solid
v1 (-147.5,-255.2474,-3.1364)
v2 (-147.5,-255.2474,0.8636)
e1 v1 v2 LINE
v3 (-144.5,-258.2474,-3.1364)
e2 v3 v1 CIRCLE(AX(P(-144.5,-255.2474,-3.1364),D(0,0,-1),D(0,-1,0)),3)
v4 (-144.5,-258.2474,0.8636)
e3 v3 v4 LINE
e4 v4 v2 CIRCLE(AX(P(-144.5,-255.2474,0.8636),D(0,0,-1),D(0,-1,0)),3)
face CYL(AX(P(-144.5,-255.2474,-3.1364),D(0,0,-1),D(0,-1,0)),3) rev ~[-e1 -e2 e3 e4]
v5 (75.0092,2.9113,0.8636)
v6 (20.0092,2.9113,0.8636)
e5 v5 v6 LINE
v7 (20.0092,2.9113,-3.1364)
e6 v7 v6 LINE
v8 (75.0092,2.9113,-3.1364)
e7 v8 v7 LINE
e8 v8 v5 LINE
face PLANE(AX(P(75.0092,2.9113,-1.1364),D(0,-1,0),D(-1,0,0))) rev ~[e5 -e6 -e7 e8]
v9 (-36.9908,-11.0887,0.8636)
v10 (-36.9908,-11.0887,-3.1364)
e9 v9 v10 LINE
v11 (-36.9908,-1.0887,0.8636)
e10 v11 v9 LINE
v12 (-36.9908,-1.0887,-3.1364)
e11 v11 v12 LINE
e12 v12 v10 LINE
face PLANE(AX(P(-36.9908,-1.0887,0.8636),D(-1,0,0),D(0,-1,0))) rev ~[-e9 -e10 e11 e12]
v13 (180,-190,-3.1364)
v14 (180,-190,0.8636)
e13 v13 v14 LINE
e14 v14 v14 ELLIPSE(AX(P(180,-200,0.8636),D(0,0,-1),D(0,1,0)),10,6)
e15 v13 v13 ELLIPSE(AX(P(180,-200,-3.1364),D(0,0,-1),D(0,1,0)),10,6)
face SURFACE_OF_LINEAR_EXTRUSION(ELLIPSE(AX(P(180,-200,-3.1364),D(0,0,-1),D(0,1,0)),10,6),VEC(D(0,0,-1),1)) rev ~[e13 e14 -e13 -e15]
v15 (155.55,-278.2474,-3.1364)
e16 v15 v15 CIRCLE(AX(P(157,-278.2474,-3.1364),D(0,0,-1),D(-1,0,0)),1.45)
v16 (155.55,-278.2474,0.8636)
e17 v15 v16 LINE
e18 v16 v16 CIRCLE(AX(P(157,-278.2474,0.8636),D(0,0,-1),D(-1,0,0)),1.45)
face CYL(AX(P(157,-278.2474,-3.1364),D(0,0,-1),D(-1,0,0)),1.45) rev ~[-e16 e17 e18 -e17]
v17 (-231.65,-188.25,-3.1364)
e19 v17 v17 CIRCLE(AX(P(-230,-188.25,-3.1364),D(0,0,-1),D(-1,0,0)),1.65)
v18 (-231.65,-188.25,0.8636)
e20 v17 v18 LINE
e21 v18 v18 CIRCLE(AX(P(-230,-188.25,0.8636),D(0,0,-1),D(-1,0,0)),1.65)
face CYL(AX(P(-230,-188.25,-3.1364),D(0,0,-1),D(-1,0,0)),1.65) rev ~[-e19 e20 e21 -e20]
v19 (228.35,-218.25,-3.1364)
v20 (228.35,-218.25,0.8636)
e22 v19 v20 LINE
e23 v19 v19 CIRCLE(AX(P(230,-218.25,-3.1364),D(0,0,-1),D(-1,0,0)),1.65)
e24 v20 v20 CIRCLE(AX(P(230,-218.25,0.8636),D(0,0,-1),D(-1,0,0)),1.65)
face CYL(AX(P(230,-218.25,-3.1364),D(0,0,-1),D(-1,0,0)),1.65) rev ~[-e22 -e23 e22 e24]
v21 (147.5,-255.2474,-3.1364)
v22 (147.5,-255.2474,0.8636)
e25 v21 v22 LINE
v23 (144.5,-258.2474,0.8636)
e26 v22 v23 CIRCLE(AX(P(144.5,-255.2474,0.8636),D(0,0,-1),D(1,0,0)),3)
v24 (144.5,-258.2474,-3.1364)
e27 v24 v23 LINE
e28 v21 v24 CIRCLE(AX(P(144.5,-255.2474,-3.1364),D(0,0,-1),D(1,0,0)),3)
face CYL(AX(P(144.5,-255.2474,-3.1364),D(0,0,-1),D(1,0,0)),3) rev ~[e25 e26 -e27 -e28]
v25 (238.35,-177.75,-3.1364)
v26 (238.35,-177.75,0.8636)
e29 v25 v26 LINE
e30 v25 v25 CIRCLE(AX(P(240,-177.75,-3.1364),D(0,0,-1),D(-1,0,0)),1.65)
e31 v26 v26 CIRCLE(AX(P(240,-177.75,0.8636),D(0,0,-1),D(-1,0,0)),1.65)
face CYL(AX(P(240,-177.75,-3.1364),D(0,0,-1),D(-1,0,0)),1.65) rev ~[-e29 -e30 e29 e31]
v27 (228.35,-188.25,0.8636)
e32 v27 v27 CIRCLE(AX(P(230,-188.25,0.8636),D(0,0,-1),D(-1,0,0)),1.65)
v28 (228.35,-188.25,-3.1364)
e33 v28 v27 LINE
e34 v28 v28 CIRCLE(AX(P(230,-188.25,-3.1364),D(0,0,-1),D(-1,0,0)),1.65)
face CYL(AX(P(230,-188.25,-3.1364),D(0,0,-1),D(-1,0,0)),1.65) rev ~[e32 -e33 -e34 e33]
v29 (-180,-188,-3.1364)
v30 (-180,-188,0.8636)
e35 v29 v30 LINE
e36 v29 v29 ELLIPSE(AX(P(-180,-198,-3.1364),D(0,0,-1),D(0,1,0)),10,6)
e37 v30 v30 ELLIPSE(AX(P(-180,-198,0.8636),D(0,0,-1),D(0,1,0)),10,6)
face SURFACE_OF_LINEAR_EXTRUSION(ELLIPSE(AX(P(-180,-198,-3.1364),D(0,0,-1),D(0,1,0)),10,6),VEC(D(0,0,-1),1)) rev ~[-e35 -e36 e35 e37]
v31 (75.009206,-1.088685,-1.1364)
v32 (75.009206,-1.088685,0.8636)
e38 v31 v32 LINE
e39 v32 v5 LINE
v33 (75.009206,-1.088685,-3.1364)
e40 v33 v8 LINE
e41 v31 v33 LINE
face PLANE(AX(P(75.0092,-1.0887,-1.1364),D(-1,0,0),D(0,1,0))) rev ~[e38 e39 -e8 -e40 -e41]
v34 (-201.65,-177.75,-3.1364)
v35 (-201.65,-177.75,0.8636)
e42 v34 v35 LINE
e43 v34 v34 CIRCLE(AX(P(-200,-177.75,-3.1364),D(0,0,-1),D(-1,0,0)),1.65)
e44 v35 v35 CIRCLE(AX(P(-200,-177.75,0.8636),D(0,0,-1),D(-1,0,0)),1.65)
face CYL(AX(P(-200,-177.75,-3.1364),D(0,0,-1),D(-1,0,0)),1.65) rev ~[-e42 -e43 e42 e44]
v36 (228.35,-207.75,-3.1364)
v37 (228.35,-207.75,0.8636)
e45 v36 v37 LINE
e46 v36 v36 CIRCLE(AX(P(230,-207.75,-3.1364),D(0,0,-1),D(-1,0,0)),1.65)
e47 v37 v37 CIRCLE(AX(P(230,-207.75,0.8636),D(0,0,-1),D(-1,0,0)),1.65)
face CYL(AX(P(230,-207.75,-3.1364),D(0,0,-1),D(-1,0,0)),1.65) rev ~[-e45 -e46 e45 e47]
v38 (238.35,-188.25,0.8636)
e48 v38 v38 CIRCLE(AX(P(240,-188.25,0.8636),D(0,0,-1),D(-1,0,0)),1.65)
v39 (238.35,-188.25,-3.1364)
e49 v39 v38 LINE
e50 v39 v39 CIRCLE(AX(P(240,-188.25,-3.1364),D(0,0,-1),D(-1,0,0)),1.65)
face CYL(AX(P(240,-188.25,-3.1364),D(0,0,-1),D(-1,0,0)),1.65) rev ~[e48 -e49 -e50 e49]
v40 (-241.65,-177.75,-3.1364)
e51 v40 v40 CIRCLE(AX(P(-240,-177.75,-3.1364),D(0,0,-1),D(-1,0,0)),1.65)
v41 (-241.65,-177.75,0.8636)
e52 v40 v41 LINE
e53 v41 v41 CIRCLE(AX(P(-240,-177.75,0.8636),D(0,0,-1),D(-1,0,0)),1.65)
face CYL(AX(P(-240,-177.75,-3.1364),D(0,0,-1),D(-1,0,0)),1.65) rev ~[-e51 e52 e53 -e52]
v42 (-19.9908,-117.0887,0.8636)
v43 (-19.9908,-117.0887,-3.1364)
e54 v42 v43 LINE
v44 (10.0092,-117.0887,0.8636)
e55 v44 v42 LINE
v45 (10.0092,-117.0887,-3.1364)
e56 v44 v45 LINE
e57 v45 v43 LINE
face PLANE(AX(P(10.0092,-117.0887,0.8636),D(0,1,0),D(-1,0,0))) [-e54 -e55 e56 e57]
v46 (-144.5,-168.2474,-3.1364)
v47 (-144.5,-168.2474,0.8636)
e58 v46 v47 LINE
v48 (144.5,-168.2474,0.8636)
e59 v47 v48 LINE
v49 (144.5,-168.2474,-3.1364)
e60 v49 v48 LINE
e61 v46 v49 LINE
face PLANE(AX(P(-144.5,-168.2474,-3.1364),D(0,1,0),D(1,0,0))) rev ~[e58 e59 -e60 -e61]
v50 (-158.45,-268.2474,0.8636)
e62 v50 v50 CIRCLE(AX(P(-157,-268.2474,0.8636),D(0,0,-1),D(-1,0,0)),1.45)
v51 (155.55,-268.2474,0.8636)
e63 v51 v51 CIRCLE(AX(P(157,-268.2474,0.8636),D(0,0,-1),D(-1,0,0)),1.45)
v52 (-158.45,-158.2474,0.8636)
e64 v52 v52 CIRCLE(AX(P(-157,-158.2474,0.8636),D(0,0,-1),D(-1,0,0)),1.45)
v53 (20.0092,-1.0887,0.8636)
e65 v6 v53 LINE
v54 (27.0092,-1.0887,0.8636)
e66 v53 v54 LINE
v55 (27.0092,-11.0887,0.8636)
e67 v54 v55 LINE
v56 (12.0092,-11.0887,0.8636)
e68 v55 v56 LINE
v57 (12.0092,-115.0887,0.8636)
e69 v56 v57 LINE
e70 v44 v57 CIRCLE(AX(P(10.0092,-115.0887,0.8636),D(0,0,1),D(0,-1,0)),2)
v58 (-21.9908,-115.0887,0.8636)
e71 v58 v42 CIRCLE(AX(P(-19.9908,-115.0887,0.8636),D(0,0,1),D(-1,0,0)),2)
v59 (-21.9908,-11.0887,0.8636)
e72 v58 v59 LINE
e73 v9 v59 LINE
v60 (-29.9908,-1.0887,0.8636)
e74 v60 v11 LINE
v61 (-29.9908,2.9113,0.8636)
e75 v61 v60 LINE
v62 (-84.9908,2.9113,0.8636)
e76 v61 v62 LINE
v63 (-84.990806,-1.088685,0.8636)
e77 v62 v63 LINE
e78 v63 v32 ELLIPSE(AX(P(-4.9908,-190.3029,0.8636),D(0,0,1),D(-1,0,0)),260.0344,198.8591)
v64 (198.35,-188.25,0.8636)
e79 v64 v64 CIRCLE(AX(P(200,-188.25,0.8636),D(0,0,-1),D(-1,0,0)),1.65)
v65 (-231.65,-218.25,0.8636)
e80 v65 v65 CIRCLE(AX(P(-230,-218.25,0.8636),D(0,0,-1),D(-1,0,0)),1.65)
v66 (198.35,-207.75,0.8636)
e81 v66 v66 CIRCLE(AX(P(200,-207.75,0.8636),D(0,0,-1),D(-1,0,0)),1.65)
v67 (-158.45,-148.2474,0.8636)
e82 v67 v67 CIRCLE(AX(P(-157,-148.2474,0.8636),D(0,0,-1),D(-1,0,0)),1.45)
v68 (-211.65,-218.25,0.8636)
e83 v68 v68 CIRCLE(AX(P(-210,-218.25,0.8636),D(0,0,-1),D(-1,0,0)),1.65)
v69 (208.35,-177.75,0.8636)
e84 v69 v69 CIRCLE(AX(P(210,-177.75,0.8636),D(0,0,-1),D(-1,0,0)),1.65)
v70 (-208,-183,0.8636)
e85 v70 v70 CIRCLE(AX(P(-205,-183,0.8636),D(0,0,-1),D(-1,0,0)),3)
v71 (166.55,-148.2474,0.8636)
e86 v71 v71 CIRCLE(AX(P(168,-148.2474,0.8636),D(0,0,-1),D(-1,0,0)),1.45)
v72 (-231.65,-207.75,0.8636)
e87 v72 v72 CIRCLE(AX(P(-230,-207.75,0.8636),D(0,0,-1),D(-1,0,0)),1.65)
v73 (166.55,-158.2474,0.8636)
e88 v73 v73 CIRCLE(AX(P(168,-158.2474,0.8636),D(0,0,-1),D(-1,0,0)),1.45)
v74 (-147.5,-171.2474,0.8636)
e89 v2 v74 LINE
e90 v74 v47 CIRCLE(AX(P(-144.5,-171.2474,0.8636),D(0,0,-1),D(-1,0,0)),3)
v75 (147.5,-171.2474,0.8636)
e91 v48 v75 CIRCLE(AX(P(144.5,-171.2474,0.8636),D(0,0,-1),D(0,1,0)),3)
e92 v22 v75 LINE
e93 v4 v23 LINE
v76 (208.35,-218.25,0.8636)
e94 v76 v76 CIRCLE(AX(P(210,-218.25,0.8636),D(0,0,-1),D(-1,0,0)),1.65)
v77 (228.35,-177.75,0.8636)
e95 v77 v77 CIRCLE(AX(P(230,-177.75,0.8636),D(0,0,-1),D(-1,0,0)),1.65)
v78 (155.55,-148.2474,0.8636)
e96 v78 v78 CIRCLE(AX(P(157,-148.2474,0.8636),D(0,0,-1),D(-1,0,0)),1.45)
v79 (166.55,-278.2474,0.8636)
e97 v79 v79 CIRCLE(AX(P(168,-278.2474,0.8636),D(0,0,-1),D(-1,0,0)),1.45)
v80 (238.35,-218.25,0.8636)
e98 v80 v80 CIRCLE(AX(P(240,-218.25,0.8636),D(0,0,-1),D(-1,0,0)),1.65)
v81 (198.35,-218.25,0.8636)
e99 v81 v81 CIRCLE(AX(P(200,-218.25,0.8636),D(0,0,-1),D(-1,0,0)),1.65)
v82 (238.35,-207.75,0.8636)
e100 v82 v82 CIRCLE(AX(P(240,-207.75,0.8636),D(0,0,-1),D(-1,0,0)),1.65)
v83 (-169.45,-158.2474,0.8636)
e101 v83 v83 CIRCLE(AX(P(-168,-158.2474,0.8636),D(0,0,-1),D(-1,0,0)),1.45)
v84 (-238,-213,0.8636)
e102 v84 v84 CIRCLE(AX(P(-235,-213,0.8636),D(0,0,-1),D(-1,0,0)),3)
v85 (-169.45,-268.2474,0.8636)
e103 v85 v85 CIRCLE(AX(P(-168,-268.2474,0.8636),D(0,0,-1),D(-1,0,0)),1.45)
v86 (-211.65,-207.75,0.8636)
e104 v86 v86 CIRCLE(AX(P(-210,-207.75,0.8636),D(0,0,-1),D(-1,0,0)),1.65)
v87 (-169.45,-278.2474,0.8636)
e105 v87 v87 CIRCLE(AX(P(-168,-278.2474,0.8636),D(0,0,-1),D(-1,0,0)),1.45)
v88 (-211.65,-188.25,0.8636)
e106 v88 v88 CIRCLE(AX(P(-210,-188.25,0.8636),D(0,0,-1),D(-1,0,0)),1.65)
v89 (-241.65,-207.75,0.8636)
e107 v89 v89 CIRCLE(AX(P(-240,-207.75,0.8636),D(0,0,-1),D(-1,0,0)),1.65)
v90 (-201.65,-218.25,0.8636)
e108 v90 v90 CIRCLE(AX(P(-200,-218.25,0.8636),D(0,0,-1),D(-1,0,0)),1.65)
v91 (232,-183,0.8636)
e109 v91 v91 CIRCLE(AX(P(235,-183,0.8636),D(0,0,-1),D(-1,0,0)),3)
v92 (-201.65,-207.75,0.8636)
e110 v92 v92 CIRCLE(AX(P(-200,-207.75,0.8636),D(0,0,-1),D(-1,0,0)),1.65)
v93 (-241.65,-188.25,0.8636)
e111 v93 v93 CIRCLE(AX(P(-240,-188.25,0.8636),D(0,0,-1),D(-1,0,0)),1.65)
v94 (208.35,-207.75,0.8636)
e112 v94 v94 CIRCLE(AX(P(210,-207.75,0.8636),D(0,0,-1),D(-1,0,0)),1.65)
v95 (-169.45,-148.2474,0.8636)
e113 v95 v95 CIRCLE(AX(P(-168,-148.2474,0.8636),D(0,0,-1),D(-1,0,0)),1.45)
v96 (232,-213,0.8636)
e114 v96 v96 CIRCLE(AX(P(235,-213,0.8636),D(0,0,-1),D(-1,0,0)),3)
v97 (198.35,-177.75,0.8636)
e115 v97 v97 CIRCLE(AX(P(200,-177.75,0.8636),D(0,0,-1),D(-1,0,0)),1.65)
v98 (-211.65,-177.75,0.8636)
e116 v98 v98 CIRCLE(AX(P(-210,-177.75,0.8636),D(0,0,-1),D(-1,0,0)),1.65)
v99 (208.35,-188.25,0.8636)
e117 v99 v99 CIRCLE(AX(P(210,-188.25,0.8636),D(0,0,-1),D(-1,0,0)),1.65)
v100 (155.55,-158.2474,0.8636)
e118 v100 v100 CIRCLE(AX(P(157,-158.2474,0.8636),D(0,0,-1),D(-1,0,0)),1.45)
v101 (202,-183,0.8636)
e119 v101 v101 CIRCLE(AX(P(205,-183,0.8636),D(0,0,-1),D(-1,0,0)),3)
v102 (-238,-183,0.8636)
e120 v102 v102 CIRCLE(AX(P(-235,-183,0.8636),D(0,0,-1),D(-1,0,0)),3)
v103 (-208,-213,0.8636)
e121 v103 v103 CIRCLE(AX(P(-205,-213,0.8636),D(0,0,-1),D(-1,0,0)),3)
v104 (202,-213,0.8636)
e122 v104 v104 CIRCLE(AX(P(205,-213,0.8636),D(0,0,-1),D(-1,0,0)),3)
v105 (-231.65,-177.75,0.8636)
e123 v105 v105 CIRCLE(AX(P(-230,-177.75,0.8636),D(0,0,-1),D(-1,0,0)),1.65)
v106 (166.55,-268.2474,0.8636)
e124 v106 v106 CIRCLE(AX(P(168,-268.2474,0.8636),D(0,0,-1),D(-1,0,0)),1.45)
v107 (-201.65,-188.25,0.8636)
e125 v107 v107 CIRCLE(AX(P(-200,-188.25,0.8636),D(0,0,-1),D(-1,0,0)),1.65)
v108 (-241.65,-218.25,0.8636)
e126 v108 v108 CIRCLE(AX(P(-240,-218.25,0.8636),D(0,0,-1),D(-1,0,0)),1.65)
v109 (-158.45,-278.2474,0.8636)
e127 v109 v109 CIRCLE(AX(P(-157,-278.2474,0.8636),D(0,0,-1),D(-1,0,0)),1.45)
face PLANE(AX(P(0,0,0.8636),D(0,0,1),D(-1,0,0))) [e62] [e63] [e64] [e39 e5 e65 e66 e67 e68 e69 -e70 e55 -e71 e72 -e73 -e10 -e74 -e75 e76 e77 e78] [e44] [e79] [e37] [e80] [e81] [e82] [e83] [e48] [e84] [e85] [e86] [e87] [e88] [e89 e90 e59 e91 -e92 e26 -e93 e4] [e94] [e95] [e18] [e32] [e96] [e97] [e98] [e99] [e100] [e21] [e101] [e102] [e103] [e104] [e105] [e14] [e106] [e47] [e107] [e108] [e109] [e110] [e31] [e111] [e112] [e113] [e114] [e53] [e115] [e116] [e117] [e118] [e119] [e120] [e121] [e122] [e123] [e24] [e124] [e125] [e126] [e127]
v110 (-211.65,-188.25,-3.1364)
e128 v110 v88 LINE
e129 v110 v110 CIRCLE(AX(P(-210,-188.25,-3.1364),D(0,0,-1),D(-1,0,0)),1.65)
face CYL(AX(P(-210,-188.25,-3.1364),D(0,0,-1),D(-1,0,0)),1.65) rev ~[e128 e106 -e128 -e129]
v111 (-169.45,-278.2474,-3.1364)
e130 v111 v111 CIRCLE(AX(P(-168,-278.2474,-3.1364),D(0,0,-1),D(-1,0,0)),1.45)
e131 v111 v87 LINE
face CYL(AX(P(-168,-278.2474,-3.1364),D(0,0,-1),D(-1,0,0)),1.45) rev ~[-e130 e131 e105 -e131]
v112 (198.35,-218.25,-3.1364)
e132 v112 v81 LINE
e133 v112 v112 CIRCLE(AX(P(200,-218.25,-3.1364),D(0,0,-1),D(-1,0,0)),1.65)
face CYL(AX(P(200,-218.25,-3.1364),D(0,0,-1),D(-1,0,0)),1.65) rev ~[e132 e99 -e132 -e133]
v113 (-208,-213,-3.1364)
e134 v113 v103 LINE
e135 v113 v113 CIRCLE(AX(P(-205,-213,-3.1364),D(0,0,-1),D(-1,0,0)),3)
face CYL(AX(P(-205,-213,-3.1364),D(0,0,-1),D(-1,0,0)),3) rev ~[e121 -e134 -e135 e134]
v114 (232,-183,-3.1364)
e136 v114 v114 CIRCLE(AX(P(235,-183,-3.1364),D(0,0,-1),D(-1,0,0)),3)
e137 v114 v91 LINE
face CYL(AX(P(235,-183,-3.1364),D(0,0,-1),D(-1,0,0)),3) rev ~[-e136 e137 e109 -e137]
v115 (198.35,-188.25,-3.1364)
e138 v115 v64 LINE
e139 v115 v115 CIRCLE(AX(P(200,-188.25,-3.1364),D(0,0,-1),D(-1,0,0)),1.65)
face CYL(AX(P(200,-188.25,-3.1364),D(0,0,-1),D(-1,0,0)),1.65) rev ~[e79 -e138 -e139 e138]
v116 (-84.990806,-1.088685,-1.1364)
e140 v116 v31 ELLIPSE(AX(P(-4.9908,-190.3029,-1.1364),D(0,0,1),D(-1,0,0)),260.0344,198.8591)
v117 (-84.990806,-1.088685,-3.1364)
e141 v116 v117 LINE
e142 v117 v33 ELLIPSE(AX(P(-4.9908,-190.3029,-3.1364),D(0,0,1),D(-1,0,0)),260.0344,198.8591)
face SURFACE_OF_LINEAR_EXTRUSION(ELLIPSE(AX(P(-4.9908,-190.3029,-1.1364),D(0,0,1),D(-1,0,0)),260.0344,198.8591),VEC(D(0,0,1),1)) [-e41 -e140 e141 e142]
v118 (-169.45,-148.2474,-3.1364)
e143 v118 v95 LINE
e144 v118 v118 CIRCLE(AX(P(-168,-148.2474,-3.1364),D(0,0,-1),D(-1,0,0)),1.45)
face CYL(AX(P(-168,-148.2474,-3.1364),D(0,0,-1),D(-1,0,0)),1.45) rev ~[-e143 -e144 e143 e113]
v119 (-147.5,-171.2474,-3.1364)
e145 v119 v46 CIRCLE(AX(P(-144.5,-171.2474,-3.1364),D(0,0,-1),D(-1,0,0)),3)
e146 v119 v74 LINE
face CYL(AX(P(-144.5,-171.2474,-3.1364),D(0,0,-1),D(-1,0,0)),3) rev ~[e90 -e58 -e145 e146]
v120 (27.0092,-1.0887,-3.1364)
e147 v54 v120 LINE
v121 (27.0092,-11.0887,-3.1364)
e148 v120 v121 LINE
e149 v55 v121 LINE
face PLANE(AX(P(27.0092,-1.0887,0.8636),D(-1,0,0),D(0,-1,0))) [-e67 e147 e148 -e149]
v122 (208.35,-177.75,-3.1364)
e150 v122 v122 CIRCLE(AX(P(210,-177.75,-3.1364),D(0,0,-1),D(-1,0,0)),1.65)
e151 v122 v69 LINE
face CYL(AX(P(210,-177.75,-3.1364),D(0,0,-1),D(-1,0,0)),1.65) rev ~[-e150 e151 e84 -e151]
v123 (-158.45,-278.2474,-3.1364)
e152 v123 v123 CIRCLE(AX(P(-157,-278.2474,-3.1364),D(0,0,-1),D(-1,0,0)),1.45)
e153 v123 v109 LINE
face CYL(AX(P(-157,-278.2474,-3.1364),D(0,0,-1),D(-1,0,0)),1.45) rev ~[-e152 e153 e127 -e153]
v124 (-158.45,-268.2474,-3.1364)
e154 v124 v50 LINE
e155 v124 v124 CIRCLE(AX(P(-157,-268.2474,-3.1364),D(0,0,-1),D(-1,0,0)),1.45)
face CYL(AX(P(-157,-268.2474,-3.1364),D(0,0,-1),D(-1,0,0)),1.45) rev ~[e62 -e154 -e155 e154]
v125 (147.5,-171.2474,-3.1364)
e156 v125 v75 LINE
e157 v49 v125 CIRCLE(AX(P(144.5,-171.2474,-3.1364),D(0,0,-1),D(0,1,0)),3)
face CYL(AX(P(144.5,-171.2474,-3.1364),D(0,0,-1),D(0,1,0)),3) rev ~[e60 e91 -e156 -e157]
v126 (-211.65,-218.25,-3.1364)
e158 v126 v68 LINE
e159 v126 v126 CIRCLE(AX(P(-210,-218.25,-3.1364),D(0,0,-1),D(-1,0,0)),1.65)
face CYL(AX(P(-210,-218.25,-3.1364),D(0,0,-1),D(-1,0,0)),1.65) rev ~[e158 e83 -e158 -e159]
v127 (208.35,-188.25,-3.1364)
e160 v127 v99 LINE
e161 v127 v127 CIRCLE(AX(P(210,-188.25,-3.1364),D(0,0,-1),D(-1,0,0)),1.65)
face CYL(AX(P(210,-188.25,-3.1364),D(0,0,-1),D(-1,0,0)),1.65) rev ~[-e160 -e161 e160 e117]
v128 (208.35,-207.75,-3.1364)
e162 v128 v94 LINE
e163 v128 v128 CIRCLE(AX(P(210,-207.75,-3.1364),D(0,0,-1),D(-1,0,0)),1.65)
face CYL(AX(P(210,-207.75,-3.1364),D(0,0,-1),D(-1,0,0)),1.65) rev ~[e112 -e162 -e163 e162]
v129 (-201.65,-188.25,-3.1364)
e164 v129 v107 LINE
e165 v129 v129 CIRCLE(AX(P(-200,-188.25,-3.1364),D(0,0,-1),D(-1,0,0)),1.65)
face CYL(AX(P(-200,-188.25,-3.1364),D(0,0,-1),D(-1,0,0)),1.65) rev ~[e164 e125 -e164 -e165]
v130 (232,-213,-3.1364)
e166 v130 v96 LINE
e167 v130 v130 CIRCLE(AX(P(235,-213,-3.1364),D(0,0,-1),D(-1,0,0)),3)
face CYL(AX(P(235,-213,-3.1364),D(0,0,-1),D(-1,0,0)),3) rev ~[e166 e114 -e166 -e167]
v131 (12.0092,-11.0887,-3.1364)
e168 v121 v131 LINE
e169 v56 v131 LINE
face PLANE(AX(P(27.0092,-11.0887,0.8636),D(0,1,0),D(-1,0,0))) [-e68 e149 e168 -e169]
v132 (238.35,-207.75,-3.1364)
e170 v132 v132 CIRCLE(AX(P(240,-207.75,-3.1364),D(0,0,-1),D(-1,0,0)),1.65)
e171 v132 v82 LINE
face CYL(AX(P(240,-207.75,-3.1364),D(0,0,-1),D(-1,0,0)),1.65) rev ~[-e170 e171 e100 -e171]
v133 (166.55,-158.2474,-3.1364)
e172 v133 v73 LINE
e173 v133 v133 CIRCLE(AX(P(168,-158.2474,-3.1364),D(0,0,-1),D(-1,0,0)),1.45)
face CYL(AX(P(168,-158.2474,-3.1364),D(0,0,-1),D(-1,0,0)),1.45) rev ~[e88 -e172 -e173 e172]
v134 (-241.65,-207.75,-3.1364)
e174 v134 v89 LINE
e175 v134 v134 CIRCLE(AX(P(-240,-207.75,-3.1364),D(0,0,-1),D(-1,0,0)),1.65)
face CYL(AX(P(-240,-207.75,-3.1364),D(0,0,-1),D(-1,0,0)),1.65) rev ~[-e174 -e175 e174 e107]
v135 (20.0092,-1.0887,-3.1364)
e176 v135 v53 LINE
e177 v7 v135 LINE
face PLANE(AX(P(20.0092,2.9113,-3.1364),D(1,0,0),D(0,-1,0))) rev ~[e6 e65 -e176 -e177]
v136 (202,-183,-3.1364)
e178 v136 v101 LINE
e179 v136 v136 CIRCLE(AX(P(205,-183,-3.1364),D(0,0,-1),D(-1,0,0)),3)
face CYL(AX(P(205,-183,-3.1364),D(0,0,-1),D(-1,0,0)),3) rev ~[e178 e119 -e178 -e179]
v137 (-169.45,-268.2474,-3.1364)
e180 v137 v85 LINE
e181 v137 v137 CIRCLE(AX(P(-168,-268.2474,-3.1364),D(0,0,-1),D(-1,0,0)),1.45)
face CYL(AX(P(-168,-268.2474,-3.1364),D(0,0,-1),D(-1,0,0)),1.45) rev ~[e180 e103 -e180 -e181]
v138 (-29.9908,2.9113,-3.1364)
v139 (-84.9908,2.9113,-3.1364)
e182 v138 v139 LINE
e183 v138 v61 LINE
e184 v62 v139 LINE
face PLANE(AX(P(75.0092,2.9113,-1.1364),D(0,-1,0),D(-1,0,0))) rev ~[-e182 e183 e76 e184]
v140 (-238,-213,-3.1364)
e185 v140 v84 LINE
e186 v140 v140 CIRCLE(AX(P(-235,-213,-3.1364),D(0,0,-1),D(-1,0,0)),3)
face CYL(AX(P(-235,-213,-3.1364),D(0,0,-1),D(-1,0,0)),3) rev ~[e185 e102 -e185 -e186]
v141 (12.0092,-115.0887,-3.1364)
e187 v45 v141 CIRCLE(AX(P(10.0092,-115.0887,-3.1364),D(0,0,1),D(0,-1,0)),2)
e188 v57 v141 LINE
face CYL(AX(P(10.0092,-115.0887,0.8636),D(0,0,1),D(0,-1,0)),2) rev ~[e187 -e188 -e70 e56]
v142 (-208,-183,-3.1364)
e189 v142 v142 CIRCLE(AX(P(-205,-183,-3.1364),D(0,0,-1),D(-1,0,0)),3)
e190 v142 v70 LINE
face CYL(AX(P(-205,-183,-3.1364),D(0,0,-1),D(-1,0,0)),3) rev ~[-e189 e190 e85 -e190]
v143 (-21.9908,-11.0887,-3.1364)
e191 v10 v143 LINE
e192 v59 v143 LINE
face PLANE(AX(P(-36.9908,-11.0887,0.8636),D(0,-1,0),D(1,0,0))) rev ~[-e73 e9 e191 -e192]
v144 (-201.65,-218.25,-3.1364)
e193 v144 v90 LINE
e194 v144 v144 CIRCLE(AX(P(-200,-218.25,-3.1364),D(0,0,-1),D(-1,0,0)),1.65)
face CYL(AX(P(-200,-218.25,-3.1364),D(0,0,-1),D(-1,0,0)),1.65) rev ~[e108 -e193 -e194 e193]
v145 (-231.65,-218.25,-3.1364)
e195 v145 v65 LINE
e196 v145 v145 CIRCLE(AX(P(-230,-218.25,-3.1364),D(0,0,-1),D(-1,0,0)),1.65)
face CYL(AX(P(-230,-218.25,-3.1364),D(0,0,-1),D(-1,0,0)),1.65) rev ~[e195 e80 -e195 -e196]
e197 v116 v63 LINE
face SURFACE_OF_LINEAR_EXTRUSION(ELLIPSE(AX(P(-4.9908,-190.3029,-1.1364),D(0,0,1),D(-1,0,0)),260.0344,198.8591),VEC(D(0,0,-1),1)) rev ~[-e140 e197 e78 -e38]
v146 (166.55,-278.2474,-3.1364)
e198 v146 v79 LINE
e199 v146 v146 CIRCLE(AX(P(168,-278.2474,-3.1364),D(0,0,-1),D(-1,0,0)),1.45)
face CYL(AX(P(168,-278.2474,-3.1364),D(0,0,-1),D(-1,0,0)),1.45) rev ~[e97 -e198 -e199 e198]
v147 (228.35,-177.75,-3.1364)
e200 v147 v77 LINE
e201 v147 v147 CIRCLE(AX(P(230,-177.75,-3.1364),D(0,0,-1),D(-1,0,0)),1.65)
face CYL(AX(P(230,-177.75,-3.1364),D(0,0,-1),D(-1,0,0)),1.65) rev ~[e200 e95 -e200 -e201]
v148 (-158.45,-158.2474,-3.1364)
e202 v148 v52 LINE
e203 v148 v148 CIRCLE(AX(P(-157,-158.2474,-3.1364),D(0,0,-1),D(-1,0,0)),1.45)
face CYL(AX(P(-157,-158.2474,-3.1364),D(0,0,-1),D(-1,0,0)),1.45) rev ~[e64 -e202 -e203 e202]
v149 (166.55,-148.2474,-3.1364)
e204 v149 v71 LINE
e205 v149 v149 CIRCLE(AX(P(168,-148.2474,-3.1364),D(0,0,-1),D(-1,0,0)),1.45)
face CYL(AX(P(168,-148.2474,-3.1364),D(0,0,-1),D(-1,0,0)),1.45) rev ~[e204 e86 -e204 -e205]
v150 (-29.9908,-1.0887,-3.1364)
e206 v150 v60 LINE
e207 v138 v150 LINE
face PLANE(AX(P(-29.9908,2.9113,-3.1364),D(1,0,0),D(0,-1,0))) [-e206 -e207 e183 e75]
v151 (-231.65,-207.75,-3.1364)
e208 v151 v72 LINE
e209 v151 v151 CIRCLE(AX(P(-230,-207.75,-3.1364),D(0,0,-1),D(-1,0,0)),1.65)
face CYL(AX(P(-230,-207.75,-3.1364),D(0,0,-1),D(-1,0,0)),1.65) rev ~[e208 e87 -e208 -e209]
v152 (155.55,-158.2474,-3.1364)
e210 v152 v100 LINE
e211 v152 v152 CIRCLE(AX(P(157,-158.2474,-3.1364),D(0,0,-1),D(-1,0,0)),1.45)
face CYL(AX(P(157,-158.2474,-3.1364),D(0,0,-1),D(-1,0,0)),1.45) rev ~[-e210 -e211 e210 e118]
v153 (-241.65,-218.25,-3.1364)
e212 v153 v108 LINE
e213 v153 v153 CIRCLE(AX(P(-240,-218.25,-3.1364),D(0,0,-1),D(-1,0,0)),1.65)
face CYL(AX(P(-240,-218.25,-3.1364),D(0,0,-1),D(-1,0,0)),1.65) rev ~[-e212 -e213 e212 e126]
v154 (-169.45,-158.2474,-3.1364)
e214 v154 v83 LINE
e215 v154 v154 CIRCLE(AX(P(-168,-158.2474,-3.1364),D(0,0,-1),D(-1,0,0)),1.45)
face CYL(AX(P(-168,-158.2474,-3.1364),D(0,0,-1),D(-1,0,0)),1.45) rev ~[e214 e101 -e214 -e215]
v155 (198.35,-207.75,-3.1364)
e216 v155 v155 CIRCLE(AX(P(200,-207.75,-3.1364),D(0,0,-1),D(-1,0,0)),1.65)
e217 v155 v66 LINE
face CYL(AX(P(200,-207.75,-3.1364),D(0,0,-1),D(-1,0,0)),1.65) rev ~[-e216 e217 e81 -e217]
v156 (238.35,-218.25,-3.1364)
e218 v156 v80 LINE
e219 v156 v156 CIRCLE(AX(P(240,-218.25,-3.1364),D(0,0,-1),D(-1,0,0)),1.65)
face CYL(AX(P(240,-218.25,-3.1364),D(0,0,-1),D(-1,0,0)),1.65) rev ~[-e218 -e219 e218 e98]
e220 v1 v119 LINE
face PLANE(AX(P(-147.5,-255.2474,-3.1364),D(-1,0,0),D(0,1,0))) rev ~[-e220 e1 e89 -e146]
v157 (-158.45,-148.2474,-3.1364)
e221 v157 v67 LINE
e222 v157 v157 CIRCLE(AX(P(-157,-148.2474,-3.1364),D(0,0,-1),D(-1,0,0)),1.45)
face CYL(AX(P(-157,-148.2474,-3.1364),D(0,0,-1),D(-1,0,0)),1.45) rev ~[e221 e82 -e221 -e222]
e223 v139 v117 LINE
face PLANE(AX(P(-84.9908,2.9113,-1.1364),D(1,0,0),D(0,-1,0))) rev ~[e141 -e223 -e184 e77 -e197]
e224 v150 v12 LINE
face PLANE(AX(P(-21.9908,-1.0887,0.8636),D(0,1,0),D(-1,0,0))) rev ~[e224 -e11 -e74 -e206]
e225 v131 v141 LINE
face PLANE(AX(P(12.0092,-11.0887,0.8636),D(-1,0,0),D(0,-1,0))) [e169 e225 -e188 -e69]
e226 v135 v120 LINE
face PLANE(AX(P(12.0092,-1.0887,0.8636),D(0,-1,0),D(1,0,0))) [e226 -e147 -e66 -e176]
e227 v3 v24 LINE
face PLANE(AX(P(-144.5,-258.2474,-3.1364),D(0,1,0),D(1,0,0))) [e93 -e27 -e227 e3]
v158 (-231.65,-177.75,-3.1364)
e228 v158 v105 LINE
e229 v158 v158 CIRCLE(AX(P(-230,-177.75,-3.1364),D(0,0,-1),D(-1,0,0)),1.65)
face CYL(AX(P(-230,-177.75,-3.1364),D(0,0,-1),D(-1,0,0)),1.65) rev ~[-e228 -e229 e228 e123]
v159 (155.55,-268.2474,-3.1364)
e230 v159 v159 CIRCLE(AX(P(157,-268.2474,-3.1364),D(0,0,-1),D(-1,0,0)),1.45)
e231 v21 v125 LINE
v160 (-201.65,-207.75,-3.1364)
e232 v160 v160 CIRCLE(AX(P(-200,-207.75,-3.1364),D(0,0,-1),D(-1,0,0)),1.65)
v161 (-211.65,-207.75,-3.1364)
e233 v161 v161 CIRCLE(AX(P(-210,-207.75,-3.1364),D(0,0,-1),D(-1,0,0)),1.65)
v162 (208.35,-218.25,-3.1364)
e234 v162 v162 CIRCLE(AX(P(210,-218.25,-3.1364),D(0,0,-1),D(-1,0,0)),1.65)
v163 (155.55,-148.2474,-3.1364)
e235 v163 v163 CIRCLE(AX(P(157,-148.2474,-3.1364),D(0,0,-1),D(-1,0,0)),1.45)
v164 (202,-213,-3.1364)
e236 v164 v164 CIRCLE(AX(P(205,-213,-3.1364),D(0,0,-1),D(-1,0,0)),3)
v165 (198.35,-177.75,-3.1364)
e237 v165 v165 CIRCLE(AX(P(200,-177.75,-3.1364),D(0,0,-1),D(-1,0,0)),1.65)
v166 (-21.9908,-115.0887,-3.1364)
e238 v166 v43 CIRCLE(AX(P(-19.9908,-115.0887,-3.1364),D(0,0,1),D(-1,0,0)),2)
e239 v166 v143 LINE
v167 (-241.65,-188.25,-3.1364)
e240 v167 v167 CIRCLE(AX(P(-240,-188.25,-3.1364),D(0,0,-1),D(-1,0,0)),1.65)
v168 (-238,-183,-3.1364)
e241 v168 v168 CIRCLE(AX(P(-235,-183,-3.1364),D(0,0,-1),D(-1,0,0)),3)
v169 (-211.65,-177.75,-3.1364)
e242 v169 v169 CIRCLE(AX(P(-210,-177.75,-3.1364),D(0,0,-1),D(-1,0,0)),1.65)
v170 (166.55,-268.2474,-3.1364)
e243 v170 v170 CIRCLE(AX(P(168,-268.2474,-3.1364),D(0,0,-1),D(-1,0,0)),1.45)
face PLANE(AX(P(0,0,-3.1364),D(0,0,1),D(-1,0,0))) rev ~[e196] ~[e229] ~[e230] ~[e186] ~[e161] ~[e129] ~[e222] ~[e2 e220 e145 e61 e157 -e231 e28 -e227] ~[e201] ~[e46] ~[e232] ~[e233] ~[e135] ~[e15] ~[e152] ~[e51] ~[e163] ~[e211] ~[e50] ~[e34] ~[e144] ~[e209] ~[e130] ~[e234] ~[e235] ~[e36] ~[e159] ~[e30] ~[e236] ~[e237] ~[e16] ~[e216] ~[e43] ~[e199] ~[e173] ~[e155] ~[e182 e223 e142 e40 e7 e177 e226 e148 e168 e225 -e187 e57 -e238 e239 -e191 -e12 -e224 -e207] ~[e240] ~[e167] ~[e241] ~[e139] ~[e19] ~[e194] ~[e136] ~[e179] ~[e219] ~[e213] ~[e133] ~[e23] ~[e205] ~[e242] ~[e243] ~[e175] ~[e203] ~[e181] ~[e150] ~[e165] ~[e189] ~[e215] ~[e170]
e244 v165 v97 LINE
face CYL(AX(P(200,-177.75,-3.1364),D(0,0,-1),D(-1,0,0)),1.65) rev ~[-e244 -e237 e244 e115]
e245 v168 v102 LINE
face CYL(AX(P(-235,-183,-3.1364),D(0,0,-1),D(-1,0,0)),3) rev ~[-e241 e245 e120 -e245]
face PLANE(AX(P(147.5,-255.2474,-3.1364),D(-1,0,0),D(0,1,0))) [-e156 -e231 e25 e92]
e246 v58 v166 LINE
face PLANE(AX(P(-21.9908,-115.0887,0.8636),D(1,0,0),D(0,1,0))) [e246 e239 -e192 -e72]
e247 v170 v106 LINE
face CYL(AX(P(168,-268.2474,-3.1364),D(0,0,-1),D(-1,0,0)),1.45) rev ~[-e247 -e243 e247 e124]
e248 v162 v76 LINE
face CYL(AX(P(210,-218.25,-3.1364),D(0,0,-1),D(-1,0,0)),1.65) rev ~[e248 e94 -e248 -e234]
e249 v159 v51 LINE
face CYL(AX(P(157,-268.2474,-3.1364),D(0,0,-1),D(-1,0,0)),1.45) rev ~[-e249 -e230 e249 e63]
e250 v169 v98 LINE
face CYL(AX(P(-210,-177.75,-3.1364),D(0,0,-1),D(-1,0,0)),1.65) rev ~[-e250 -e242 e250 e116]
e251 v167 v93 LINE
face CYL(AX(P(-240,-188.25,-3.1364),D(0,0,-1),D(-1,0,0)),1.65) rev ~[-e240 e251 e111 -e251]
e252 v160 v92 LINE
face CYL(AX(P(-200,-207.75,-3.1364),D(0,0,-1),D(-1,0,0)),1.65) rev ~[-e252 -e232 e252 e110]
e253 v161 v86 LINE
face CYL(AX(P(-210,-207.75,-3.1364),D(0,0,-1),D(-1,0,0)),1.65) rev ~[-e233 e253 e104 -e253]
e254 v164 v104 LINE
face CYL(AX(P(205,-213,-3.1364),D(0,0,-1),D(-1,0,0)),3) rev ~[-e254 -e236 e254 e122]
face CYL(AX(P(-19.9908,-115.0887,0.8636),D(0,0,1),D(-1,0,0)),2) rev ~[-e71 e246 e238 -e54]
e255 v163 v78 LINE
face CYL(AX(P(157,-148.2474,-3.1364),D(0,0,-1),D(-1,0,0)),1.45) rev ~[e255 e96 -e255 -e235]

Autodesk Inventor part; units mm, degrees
ref_plane "YZ Plane" through (0, 0, 0) normal (1, 0, 0) x (0, 1, 0)
ref_plane "XZ Plane" through (0, 0, 0) normal (0, 1, 0) x (-1, 0, 0)
ref_plane "XY Plane" through (0, 0, 0) normal (0, 0, 1) x (1, 0, 0)
ref_plane "РабПлоскость1" through (0, 0, -1.1364) normal (0, 0, 1) x (-1, 0, 0)
sketch "Эскиз2" plane through (0, 0, -1.1364) normal (0, 0, 1) x (-1, 0, 0)
  ellipse E0 centre (4.9908, 190.3029) end of major axis (4.9908, -8.5562) minor radius 260.0344 (84.9908, 1.0887) -> (-75.0092, 1.0887) ccw
  line L0 (84.9908, 1.0887) -> (-75.0092, 1.0887)
  line L1 (-75.0092, 1.0887) -> (-75.0092, -2.9113)
  line L2 (-75.0092, -2.9113) -> (84.9908, -2.9113)
  line L3 (84.9908, -2.9113) -> (84.9908, 1.0887)
  dimension "d206" = 160
  dimension "d207" = 4
extrude "Выдавливание1" add sketch "Эскиз2" along normal mid plane 4
sketch "Эскиз3" plane through (0, 0, -3.1364) normal (0, 0, -1) x (-1, 0, 0)
  line L0 (177.5, -303.2474) -> (-177.5, -303.2474)
  line L1 (-177.5, -303.2474) -> (-177.5, -123.2474)
  line L2 (-177.5, -93.2474) -> (177.5, -93.2474) construction
  line L3 (177.5, -93.2474) -> (177.5, -123.2474) construction
  line L4 (177.5, -303.2474) -> (-177.5, -93.2474) construction
  line L5 (0, 0) -> (0, -505.0871) construction
  line L6 (177.5, -123.2474) -> (-177.5, -123.2474)
  line L7 (177.5, -123.2474) -> (177.5, -303.2474)
  line L8 (-177.5, -123.2474) -> (-177.5, -93.2474) construction
  line L9 (144.5, -258.2474) -> (-144.5, -258.2474)
  line L10 (144.5, -168.2474) -> (-144.5, -168.2474)
  line L11 (147.5, -255.2474) -> (147.5, -171.2474)
  line L12 (-147.5, -255.2474) -> (-147.5, -171.2474)
  arc A0 (144.5, -258.2474) -> (147.5, -255.2474) centre (144.5, -255.2474) ccw
  arc A1 (147.5, -171.2474) -> (144.5, -168.2474) centre (144.5, -171.2474) ccw
  arc A2 (-144.5, -168.2474) -> (-147.5, -171.2474) centre (-144.5, -171.2474) ccw
  arc A3 (-147.5, -255.2474) -> (-144.5, -258.2474) centre (-144.5, -255.2474) ccw
  line L13 (-177.5, -303.2474) -> (177.5, -93.2474) construction
  line L14 (144.5, -255.2474) -> (-144.5, -171.2474) construction
  circle A4 centre (162.5, -153.2474) radius 15 construction
  circle A5 centre (-162.5, -153.2474) radius 15 construction
  circle A6 centre (162.5, -273.2474) radius 15 construction
  circle A7 centre (-162.5, -273.2474) radius 15 construction
  line L15 (144.5, -168.2474) -> (208, -168.2474) construction
  line L16 (147.5, -171.2474) -> (147.5, -106) construction
  line L17 (147.5, -255.2474) -> (147.5, -309) construction
  line L18 (144.5, -258.2474) -> (196, -258.2474) construction
  line L19 (-147.5, -255.2474) -> (-147.5, -298) construction
  line L20 (-144.5, -258.2474) -> (-198, -258.2474) construction
  line L21 (-147.5, -171.2474) -> (-147.5, -131) construction
  line L22 (-144.5, -168.2474) -> (-173, -168.2474) construction
  line L23 (157, -158.2474) -> (168, -158.2474) construction
  line L24 (168, -158.2474) -> (168, -148.2474) construction
  line L25 (168, -148.2474) -> (157, -148.2474) construction
  line L26 (157, -148.2474) -> (157, -158.2474) construction
  line L27 (157, -158.2474) -> (168, -148.2474) construction
  line L28 (168, -158.2474) -> (157, -148.2474) construction
  line L29 (157, -268.2474) -> (168, -268.2474) construction
  line L30 (168, -268.2474) -> (168, -278.2474) construction
  line L31 (168, -278.2474) -> (157, -278.2474) construction
  line L32 (157, -278.2474) -> (157, -268.2474) construction
  line L33 (157, -268.2474) -> (168, -278.2474) construction
  line L34 (168, -268.2474) -> (157, -278.2474) construction
  line L35 (-168, -268.2474) -> (-157, -268.2474) construction
  line L36 (-157, -268.2474) -> (-157, -278.2474) construction
  line L37 (-157, -278.2474) -> (-168, -278.2474) construction
  line L38 (-168, -278.2474) -> (-168, -268.2474) construction
  line L39 (-168, -268.2474) -> (-157, -278.2474) construction
  line L40 (-157, -268.2474) -> (-168, -278.2474) construction
  line L41 (-168, -158.2474) -> (-157, -158.2474) construction
  line L42 (-157, -158.2474) -> (-157, -148.2474) construction
  line L43 (-157, -148.2474) -> (-168, -148.2474) construction
  line L44 (-168, -148.2474) -> (-168, -158.2474) construction
  line L45 (-168, -158.2474) -> (-157, -148.2474) construction
  line L46 (-157, -158.2474) -> (-168, -148.2474) construction
  circle A8 centre (157, -158.2474) radius 1.45
  circle A9 centre (157, -148.2474) radius 1.45
  circle A10 centre (168, -148.2474) radius 1.45
  circle A11 centre (168, -158.2474) radius 1.45
  circle A12 centre (-168, -148.2474) radius 1.45
  circle A13 centre (-157, -148.2474) radius 1.45
  circle A14 centre (-168, -158.2474) radius 1.45
  circle A15 centre (-157, -158.2474) radius 1.45
  circle A16 centre (-157, -268.2474) radius 1.45
  circle A17 centre (-168, -268.2474) radius 1.45
  circle A18 centre (-168, -278.2474) radius 1.45
  circle A19 centre (-157, -278.2474) radius 1.45
  circle A20 centre (168, -278.2474) radius 1.45
  circle A21 centre (168, -268.2474) radius 1.45
  circle A22 centre (157, -268.2474) radius 1.45
  circle A23 centre (157, -278.2474) radius 1.45
  point P0 (0, -198.2474)
  point P1 (-5.6255, -198.2474)
  point P2 (0, -213.2474)
  dimension "d4" = 355
  dimension "d5" = 210
  dimension "d6" = 0
  dimension "d8" = 30
  dimension "d9" = 3
  dimension "d104" = 45
  dimension "d105" = 30
  dimension "d106" = 30
  dimension "d126" = 30
  dimension "d127" = 30
  dimension "d128" = 30
  dimension "d129" = 30
  dimension "d130" = 11
  dimension "d131" = 10
  dimension "d132" = 11
  dimension "d133" = 10
  dimension "d134" = 11
  dimension "d135" = 2.9
  dimension "d136" = 2.9
  dimension "d137" = 2.9
  dimension "d138" = 2.9
  dimension "d139" = 2.9
  dimension "d140" = 2.9
  dimension "d141" = 2.9
  dimension "d142" = 2.9
  dimension "d143" = 2.9
  dimension "d144" = 2.9
  dimension "d145" = 2.9
  dimension "d146" = 2.9
  dimension "d147" = 2.9
  dimension "d148" = 2.9
  dimension "d149" = 2.9
  dimension "d150" = 2.9
extrude "Выдавливание2" cut sketch "Эскиз3" against normal blind 4 contours L9 A3 L12 A2 L10 A1 L11 A0 | A8 | A9 | A10 | A11 | A12 | A13 | A14 | A15 | A16 | A17 | A18 | A19 | A20 | A21 | A22 | A23
sketch "Эскиз5" plane through (0, 0, -3.1364) normal (0, 0, -1) x (-1, 0, 0)
  ellipse E0 centre (4.9908, -190.3029) end of major axis (265.0252, -190.3029) minor radius 198.8591 (-75.0092, -1.0887) -> (84.9908, -1.0887) ccw projected
  line L0 (84.9908, 2.9113) -> (-75.0092, 2.9113)
  line L1 (-75.0092, 2.9113) -> (-75.0092, -1.0887)
  line L2 (-75.0092, -1.0887) -> (84.9908, -1.0887)
  line L3 (84.9908, -1.0887) -> (84.9908, 2.9113)
  line L4 (-75.0092, 2.9113) -> (84.9908, 2.9113) projected
  line L5 (84.9908, 2.9113) -> (29.9908, 2.9113)
  line L6 (29.9908, 2.9113) -> (29.9908, -1.0887)
  line L7 (29.9908, -1.0887) -> (84.9908, -1.0887)
  line L8 (84.9908, -1.0887) -> (84.9908, 2.9113)
  line L9 (-75.0092, 2.9113) -> (-20.0092, 2.9113)
  line L10 (-20.0092, 2.9113) -> (-20.0092, -1.0887)
  line L11 (-20.0092, -1.0887) -> (-75.0092, -1.0887)
  line L12 (-75.0092, -1.0887) -> (-75.0092, 2.9113)
  point P0 (-20.0092, 2.9113)
  point P1 (29.9908, 2.9113)
  dimension "d208" = 55
  dimension "d209" = 55
extrude "Выдавливание4" cut sketch "Эскиз5" against normal blind 4 contours L10 L0 L6 L2
sketch "Эскиз6" plane through (0, 0, 0.8636) normal (0, 0, 1) x (1, 0, 0)
  line L0 (-84.9908, -1.0887) -> (-84.9908, 2.9113) projected
  line L1 (75.0092, -1.0887) -> (-84.9908, -1.0887) construction
  line L2 (-4.9908, -1.0887) -> (-4.9908, -151.6518) construction
  line L3 (10.0092, -117.0887) -> (-19.9908, -117.0887)
  line L4 (-21.9908, -115.0887) -> (-21.9908, 2.9113)
  line L5 (-21.9908, 2.9113) -> (12.0092, 2.9113)
  line L6 (12.0092, 2.9113) -> (12.0092, -115.0887)
  line L7 (12.0092, -117.0887) -> (-21.9908, 2.9113) construction
  line L8 (-21.9908, -117.0887) -> (12.0092, 2.9113) construction
  line L9 (20.0092, 2.9113) -> (75.0092, 2.9113) construction
  line L10 (-84.9908, 2.9113) -> (-29.9908, 2.9113) construction
  line L11 (20.0092, 2.9113) -> (-29.9908, 2.9113) construction
  arc A0 (10.0092, -117.0887) -> (12.0092, -115.0887) centre (10.0092, -115.0887) ccw
  arc A1 (-21.9908, -115.0887) -> (-19.9908, -117.0887) centre (-19.9908, -115.0887) ccw
  line L12 (12.0092, -1.0887) -> (27.0092, -1.0887)
  line L13 (27.0092, -1.0887) -> (27.0092, -11.0887)
  line L14 (27.0092, -11.0887) -> (12.0092, -11.0887)
  line L15 (12.0092, -11.0887) -> (12.0092, -1.0887)
  line L16 (-21.9908, -1.0887) -> (-36.9908, -1.0887)
  line L17 (-36.9908, -1.0887) -> (-36.9908, -11.0887)
  line L18 (-36.9908, -11.0887) -> (-21.9908, -11.0887)
  line L19 (-21.9908, -11.0887) -> (-21.9908, -1.0887)
  point P0 (-4.9908, -57.0887)
  point P1 (-4.9908, 2.9113)
  point P2 (-21.9908, -11.0887)
  point P3 (12.0092, -11.0887)
  point P4 (20.0092, -1.0887)
  point P5 (-29.4908, -1.0887)
  dimension "d210" = 34
  dimension "d211" = 120
  dimension "d212" = 2
  dimension "d213" = 15
  dimension "d214" = 10
  dimension "d215" = 15
  dimension "d216" = 10
extrude "Выдавливание5" cut sketch "Эскиз6" against normal blind 4
sketch "Эскиз9" plane through (0, 0, -3.1364) normal (0, 0, -1) x (-1, 0, 0)
  line L0 (-235, -202.49) -> (-235, -223.51) construction
  circle A0 centre (217.2499, 89.3506) radius 1.6806
  circle A1 centre (212.1896, 94.5548) radius 3.0463
  circle A2 centre (217.3783, 99.3507) radius 1.6805
  circle A3 centre (206.8799, 99.3342) radius 1.6809
  circle A4 centre (206.8954, 89.3342) radius 1.6807
  circle A5 centre (217.2499, 89.3506) radius 1.6806
  circle A6 centre (212.1896, 94.5548) radius 3.0463
  circle A7 centre (217.3783, 99.3507) radius 1.6805
  circle A8 centre (206.8799, 99.3342) radius 1.6809
  circle A9 centre (206.8954, 89.3342) radius 1.6807
  circle A10 centre (-235, -213) radius 3
  line L1 (-230, -218.25) -> (-240, -218.25) construction
  line L2 (-240, -218.25) -> (-240, -207.75) construction
  line L3 (-240, -207.75) -> (-230, -207.75) construction
  line L4 (-230, -207.75) -> (-230, -218.25) construction
  line L5 (-230, -218.25) -> (-240, -207.75) construction
  line L6 (-240, -218.25) -> (-230, -207.75) construction
  circle A11 centre (-240, -218.25) radius 1.65
  circle A12 centre (-240, -207.75) radius 1.65
  circle A13 centre (-230, -207.75) radius 1.65
  circle A14 centre (-230, -218.25) radius 1.65
  circle A15 centre (-205, -213) radius 3
  line L7 (-200, -218.25) -> (-210, -218.25) construction
  line L8 (-210, -218.25) -> (-210, -207.75) construction
  line L9 (-210, -207.75) -> (-200, -207.75) construction
  line L10 (-200, -207.75) -> (-200, -218.25) construction
  line L11 (-200, -218.25) -> (-210, -207.75) construction
  line L12 (-210, -218.25) -> (-200, -207.75) construction
  circle A16 centre (-210, -218.25) radius 1.65
  circle A17 centre (-210, -207.75) radius 1.65
  circle A18 centre (-200, -207.75) radius 1.65
  circle A19 centre (-200, -218.25) radius 1.65
  circle A20 centre (-235, -183) radius 3
  line L13 (-230, -188.25) -> (-240, -188.25) construction
  line L14 (-240, -188.25) -> (-240, -177.75) construction
  line L15 (-240, -177.75) -> (-230, -177.75) construction
  line L16 (-230, -177.75) -> (-230, -188.25) construction
  line L17 (-230, -188.25) -> (-240, -177.75) construction
  line L18 (-240, -188.25) -> (-230, -177.75) construction
  circle A21 centre (-240, -188.25) radius 1.65
  circle A22 centre (-240, -177.75) radius 1.65
  circle A23 centre (-230, -177.75) radius 1.65
  circle A24 centre (-230, -188.25) radius 1.65
  line L19 (-147.5, -255.2474) -> (-147.5, -171.2474) projected
  line L20 (0, 0) -> (0, -408.2262) construction
  line L21 (-200, -177.75) -> (-200, -188.25) construction
  circle A25 centre (-205, -183) radius 3
  line L22 (-210, -177.75) -> (-200, -177.75) construction
  line L23 (-200, -188.25) -> (-210, -177.75) construction
  line L24 (-210, -188.25) -> (-200, -177.75) construction
  line L25 (-200, -188.25) -> (-210, -188.25) construction
  line L26 (-210, -188.25) -> (-210, -177.75) construction
  circle A26 centre (-210, -188.25) radius 1.65
  circle A27 centre (-210, -177.75) radius 1.65
  circle A28 centre (-200, -177.75) radius 1.65
  circle A29 centre (-200, -188.25) radius 1.65
  line L27 (235, -202.49) -> (235, -223.51) construction
  circle A30 centre (235, -213) radius 3
  line L28 (230, -218.25) -> (240, -218.25) construction
  line L29 (240, -218.25) -> (240, -207.75) construction
  line L30 (240, -207.75) -> (230, -207.75) construction
  line L31 (230, -207.75) -> (230, -218.25) construction
  line L32 (230, -218.25) -> (240, -207.75) construction
  line L33 (240, -218.25) -> (230, -207.75) construction
  circle A31 centre (240, -218.25) radius 1.65
  circle A32 centre (240, -207.75) radius 1.65
  circle A33 centre (230, -207.75) radius 1.65
  circle A34 centre (230, -218.25) radius 1.65
  line L34 (200, -207.75) -> (200, -218.25) construction
  circle A35 centre (205, -213) radius 3
  line L35 (210, -207.75) -> (200, -207.75) construction
  line L36 (200, -218.25) -> (210, -207.75) construction
  line L37 (210, -218.25) -> (200, -207.75) construction
  line L38 (200, -218.25) -> (210, -218.25) construction
  line L39 (210, -218.25) -> (210, -207.75) construction
  circle A36 centre (210, -218.25) radius 1.65
  circle A37 centre (210, -207.75) radius 1.65
  circle A38 centre (200, -207.75) radius 1.65
  circle A39 centre (200, -218.25) radius 1.65
  line L40 (230, -177.75) -> (230, -188.25) construction
  circle A40 centre (235, -183) radius 3
  line L41 (240, -177.75) -> (230, -177.75) construction
  line L42 (230, -188.25) -> (240, -177.75) construction
  line L43 (240, -188.25) -> (230, -177.75) construction
  line L44 (230, -188.25) -> (240, -188.25) construction
  line L45 (240, -188.25) -> (240, -177.75) construction
  circle A41 centre (240, -188.25) radius 1.65
  circle A42 centre (240, -177.75) radius 1.65
  circle A43 centre (230, -177.75) radius 1.65
  circle A44 centre (230, -188.25) radius 1.65
  line L46 (200, -188.25) -> (210, -188.25) construction
  circle A45 centre (210, -188.25) radius 1.65
  line L47 (210, -188.25) -> (210, -177.75) construction
  circle A46 centre (210, -177.75) radius 1.65
  line L48 (200, -177.75) -> (200, -188.25) construction
  line L49 (200, -188.25) -> (210, -177.75) construction
  line L50 (210, -188.25) -> (200, -177.75) construction
  line L51 (210, -177.75) -> (200, -177.75) construction
  circle A47 centre (200, -177.75) radius 1.65
  circle A48 centre (200, -188.25) radius 1.65
  circle A49 centre (205, -183) radius 3
  ellipse E0 centre (180, -198) end of major axis (180, -188) minor radius 6
  ellipse E1 centre (-180, -200) end of major axis (-180, -190) minor radius 6
  dimension "d152" = 6
  dimension "d153" = 10
  dimension "d155" = 6
  dimension "d156" = 10
  dimension "d52" = 6
  dimension "d53" = 10
  dimension "d54" = 10.5
  dimension "d55" = 3.3
  dimension "d56" = 3.3
  dimension "d57" = 3.3
  dimension "d58" = 6
  dimension "d59" = 10
  dimension "d60" = 10.5
  dimension "d61" = 3.3
  dimension "d62" = 3.3
  dimension "d63" = 3.3
  dimension "d64" = 6
  dimension "d65" = 10
  dimension "d66" = 10.5
  dimension "d67" = 3.3
  dimension "d68" = 3.3
  dimension "d69" = 3.3
  dimension "d70" = 30
  dimension "d71" = 30
  dimension "d97" = 235
  dimension "d98" = 6
  dimension "d99" = 10
  dimension "d100" = 10.5
  dimension "d101" = 3.3
  dimension "d102" = 3.3
  dimension "d103" = 3.3
  dimension "d154" = 20
  dimension "d157" = 20
extrude "Выдавливание8" cut sketch "Эскиз9" against normal blind 4 contours A10 | A11 | A12 | A13 | A14 | A15 | A16 | A17 | A18 | A19 | A20 | A21 | A22 | A23 | A24 | A25 | A26 | A27 | A28 | A29 | A30 | A31 | A32 | A33 | A34 | A35 | A36 | A37 | A38 | A39 | A40 | A41 | A42 | A43 | A44 | A45 | A46 | A47 | A48 | A49 | E0 | E1
properties part number "основа_лица"
